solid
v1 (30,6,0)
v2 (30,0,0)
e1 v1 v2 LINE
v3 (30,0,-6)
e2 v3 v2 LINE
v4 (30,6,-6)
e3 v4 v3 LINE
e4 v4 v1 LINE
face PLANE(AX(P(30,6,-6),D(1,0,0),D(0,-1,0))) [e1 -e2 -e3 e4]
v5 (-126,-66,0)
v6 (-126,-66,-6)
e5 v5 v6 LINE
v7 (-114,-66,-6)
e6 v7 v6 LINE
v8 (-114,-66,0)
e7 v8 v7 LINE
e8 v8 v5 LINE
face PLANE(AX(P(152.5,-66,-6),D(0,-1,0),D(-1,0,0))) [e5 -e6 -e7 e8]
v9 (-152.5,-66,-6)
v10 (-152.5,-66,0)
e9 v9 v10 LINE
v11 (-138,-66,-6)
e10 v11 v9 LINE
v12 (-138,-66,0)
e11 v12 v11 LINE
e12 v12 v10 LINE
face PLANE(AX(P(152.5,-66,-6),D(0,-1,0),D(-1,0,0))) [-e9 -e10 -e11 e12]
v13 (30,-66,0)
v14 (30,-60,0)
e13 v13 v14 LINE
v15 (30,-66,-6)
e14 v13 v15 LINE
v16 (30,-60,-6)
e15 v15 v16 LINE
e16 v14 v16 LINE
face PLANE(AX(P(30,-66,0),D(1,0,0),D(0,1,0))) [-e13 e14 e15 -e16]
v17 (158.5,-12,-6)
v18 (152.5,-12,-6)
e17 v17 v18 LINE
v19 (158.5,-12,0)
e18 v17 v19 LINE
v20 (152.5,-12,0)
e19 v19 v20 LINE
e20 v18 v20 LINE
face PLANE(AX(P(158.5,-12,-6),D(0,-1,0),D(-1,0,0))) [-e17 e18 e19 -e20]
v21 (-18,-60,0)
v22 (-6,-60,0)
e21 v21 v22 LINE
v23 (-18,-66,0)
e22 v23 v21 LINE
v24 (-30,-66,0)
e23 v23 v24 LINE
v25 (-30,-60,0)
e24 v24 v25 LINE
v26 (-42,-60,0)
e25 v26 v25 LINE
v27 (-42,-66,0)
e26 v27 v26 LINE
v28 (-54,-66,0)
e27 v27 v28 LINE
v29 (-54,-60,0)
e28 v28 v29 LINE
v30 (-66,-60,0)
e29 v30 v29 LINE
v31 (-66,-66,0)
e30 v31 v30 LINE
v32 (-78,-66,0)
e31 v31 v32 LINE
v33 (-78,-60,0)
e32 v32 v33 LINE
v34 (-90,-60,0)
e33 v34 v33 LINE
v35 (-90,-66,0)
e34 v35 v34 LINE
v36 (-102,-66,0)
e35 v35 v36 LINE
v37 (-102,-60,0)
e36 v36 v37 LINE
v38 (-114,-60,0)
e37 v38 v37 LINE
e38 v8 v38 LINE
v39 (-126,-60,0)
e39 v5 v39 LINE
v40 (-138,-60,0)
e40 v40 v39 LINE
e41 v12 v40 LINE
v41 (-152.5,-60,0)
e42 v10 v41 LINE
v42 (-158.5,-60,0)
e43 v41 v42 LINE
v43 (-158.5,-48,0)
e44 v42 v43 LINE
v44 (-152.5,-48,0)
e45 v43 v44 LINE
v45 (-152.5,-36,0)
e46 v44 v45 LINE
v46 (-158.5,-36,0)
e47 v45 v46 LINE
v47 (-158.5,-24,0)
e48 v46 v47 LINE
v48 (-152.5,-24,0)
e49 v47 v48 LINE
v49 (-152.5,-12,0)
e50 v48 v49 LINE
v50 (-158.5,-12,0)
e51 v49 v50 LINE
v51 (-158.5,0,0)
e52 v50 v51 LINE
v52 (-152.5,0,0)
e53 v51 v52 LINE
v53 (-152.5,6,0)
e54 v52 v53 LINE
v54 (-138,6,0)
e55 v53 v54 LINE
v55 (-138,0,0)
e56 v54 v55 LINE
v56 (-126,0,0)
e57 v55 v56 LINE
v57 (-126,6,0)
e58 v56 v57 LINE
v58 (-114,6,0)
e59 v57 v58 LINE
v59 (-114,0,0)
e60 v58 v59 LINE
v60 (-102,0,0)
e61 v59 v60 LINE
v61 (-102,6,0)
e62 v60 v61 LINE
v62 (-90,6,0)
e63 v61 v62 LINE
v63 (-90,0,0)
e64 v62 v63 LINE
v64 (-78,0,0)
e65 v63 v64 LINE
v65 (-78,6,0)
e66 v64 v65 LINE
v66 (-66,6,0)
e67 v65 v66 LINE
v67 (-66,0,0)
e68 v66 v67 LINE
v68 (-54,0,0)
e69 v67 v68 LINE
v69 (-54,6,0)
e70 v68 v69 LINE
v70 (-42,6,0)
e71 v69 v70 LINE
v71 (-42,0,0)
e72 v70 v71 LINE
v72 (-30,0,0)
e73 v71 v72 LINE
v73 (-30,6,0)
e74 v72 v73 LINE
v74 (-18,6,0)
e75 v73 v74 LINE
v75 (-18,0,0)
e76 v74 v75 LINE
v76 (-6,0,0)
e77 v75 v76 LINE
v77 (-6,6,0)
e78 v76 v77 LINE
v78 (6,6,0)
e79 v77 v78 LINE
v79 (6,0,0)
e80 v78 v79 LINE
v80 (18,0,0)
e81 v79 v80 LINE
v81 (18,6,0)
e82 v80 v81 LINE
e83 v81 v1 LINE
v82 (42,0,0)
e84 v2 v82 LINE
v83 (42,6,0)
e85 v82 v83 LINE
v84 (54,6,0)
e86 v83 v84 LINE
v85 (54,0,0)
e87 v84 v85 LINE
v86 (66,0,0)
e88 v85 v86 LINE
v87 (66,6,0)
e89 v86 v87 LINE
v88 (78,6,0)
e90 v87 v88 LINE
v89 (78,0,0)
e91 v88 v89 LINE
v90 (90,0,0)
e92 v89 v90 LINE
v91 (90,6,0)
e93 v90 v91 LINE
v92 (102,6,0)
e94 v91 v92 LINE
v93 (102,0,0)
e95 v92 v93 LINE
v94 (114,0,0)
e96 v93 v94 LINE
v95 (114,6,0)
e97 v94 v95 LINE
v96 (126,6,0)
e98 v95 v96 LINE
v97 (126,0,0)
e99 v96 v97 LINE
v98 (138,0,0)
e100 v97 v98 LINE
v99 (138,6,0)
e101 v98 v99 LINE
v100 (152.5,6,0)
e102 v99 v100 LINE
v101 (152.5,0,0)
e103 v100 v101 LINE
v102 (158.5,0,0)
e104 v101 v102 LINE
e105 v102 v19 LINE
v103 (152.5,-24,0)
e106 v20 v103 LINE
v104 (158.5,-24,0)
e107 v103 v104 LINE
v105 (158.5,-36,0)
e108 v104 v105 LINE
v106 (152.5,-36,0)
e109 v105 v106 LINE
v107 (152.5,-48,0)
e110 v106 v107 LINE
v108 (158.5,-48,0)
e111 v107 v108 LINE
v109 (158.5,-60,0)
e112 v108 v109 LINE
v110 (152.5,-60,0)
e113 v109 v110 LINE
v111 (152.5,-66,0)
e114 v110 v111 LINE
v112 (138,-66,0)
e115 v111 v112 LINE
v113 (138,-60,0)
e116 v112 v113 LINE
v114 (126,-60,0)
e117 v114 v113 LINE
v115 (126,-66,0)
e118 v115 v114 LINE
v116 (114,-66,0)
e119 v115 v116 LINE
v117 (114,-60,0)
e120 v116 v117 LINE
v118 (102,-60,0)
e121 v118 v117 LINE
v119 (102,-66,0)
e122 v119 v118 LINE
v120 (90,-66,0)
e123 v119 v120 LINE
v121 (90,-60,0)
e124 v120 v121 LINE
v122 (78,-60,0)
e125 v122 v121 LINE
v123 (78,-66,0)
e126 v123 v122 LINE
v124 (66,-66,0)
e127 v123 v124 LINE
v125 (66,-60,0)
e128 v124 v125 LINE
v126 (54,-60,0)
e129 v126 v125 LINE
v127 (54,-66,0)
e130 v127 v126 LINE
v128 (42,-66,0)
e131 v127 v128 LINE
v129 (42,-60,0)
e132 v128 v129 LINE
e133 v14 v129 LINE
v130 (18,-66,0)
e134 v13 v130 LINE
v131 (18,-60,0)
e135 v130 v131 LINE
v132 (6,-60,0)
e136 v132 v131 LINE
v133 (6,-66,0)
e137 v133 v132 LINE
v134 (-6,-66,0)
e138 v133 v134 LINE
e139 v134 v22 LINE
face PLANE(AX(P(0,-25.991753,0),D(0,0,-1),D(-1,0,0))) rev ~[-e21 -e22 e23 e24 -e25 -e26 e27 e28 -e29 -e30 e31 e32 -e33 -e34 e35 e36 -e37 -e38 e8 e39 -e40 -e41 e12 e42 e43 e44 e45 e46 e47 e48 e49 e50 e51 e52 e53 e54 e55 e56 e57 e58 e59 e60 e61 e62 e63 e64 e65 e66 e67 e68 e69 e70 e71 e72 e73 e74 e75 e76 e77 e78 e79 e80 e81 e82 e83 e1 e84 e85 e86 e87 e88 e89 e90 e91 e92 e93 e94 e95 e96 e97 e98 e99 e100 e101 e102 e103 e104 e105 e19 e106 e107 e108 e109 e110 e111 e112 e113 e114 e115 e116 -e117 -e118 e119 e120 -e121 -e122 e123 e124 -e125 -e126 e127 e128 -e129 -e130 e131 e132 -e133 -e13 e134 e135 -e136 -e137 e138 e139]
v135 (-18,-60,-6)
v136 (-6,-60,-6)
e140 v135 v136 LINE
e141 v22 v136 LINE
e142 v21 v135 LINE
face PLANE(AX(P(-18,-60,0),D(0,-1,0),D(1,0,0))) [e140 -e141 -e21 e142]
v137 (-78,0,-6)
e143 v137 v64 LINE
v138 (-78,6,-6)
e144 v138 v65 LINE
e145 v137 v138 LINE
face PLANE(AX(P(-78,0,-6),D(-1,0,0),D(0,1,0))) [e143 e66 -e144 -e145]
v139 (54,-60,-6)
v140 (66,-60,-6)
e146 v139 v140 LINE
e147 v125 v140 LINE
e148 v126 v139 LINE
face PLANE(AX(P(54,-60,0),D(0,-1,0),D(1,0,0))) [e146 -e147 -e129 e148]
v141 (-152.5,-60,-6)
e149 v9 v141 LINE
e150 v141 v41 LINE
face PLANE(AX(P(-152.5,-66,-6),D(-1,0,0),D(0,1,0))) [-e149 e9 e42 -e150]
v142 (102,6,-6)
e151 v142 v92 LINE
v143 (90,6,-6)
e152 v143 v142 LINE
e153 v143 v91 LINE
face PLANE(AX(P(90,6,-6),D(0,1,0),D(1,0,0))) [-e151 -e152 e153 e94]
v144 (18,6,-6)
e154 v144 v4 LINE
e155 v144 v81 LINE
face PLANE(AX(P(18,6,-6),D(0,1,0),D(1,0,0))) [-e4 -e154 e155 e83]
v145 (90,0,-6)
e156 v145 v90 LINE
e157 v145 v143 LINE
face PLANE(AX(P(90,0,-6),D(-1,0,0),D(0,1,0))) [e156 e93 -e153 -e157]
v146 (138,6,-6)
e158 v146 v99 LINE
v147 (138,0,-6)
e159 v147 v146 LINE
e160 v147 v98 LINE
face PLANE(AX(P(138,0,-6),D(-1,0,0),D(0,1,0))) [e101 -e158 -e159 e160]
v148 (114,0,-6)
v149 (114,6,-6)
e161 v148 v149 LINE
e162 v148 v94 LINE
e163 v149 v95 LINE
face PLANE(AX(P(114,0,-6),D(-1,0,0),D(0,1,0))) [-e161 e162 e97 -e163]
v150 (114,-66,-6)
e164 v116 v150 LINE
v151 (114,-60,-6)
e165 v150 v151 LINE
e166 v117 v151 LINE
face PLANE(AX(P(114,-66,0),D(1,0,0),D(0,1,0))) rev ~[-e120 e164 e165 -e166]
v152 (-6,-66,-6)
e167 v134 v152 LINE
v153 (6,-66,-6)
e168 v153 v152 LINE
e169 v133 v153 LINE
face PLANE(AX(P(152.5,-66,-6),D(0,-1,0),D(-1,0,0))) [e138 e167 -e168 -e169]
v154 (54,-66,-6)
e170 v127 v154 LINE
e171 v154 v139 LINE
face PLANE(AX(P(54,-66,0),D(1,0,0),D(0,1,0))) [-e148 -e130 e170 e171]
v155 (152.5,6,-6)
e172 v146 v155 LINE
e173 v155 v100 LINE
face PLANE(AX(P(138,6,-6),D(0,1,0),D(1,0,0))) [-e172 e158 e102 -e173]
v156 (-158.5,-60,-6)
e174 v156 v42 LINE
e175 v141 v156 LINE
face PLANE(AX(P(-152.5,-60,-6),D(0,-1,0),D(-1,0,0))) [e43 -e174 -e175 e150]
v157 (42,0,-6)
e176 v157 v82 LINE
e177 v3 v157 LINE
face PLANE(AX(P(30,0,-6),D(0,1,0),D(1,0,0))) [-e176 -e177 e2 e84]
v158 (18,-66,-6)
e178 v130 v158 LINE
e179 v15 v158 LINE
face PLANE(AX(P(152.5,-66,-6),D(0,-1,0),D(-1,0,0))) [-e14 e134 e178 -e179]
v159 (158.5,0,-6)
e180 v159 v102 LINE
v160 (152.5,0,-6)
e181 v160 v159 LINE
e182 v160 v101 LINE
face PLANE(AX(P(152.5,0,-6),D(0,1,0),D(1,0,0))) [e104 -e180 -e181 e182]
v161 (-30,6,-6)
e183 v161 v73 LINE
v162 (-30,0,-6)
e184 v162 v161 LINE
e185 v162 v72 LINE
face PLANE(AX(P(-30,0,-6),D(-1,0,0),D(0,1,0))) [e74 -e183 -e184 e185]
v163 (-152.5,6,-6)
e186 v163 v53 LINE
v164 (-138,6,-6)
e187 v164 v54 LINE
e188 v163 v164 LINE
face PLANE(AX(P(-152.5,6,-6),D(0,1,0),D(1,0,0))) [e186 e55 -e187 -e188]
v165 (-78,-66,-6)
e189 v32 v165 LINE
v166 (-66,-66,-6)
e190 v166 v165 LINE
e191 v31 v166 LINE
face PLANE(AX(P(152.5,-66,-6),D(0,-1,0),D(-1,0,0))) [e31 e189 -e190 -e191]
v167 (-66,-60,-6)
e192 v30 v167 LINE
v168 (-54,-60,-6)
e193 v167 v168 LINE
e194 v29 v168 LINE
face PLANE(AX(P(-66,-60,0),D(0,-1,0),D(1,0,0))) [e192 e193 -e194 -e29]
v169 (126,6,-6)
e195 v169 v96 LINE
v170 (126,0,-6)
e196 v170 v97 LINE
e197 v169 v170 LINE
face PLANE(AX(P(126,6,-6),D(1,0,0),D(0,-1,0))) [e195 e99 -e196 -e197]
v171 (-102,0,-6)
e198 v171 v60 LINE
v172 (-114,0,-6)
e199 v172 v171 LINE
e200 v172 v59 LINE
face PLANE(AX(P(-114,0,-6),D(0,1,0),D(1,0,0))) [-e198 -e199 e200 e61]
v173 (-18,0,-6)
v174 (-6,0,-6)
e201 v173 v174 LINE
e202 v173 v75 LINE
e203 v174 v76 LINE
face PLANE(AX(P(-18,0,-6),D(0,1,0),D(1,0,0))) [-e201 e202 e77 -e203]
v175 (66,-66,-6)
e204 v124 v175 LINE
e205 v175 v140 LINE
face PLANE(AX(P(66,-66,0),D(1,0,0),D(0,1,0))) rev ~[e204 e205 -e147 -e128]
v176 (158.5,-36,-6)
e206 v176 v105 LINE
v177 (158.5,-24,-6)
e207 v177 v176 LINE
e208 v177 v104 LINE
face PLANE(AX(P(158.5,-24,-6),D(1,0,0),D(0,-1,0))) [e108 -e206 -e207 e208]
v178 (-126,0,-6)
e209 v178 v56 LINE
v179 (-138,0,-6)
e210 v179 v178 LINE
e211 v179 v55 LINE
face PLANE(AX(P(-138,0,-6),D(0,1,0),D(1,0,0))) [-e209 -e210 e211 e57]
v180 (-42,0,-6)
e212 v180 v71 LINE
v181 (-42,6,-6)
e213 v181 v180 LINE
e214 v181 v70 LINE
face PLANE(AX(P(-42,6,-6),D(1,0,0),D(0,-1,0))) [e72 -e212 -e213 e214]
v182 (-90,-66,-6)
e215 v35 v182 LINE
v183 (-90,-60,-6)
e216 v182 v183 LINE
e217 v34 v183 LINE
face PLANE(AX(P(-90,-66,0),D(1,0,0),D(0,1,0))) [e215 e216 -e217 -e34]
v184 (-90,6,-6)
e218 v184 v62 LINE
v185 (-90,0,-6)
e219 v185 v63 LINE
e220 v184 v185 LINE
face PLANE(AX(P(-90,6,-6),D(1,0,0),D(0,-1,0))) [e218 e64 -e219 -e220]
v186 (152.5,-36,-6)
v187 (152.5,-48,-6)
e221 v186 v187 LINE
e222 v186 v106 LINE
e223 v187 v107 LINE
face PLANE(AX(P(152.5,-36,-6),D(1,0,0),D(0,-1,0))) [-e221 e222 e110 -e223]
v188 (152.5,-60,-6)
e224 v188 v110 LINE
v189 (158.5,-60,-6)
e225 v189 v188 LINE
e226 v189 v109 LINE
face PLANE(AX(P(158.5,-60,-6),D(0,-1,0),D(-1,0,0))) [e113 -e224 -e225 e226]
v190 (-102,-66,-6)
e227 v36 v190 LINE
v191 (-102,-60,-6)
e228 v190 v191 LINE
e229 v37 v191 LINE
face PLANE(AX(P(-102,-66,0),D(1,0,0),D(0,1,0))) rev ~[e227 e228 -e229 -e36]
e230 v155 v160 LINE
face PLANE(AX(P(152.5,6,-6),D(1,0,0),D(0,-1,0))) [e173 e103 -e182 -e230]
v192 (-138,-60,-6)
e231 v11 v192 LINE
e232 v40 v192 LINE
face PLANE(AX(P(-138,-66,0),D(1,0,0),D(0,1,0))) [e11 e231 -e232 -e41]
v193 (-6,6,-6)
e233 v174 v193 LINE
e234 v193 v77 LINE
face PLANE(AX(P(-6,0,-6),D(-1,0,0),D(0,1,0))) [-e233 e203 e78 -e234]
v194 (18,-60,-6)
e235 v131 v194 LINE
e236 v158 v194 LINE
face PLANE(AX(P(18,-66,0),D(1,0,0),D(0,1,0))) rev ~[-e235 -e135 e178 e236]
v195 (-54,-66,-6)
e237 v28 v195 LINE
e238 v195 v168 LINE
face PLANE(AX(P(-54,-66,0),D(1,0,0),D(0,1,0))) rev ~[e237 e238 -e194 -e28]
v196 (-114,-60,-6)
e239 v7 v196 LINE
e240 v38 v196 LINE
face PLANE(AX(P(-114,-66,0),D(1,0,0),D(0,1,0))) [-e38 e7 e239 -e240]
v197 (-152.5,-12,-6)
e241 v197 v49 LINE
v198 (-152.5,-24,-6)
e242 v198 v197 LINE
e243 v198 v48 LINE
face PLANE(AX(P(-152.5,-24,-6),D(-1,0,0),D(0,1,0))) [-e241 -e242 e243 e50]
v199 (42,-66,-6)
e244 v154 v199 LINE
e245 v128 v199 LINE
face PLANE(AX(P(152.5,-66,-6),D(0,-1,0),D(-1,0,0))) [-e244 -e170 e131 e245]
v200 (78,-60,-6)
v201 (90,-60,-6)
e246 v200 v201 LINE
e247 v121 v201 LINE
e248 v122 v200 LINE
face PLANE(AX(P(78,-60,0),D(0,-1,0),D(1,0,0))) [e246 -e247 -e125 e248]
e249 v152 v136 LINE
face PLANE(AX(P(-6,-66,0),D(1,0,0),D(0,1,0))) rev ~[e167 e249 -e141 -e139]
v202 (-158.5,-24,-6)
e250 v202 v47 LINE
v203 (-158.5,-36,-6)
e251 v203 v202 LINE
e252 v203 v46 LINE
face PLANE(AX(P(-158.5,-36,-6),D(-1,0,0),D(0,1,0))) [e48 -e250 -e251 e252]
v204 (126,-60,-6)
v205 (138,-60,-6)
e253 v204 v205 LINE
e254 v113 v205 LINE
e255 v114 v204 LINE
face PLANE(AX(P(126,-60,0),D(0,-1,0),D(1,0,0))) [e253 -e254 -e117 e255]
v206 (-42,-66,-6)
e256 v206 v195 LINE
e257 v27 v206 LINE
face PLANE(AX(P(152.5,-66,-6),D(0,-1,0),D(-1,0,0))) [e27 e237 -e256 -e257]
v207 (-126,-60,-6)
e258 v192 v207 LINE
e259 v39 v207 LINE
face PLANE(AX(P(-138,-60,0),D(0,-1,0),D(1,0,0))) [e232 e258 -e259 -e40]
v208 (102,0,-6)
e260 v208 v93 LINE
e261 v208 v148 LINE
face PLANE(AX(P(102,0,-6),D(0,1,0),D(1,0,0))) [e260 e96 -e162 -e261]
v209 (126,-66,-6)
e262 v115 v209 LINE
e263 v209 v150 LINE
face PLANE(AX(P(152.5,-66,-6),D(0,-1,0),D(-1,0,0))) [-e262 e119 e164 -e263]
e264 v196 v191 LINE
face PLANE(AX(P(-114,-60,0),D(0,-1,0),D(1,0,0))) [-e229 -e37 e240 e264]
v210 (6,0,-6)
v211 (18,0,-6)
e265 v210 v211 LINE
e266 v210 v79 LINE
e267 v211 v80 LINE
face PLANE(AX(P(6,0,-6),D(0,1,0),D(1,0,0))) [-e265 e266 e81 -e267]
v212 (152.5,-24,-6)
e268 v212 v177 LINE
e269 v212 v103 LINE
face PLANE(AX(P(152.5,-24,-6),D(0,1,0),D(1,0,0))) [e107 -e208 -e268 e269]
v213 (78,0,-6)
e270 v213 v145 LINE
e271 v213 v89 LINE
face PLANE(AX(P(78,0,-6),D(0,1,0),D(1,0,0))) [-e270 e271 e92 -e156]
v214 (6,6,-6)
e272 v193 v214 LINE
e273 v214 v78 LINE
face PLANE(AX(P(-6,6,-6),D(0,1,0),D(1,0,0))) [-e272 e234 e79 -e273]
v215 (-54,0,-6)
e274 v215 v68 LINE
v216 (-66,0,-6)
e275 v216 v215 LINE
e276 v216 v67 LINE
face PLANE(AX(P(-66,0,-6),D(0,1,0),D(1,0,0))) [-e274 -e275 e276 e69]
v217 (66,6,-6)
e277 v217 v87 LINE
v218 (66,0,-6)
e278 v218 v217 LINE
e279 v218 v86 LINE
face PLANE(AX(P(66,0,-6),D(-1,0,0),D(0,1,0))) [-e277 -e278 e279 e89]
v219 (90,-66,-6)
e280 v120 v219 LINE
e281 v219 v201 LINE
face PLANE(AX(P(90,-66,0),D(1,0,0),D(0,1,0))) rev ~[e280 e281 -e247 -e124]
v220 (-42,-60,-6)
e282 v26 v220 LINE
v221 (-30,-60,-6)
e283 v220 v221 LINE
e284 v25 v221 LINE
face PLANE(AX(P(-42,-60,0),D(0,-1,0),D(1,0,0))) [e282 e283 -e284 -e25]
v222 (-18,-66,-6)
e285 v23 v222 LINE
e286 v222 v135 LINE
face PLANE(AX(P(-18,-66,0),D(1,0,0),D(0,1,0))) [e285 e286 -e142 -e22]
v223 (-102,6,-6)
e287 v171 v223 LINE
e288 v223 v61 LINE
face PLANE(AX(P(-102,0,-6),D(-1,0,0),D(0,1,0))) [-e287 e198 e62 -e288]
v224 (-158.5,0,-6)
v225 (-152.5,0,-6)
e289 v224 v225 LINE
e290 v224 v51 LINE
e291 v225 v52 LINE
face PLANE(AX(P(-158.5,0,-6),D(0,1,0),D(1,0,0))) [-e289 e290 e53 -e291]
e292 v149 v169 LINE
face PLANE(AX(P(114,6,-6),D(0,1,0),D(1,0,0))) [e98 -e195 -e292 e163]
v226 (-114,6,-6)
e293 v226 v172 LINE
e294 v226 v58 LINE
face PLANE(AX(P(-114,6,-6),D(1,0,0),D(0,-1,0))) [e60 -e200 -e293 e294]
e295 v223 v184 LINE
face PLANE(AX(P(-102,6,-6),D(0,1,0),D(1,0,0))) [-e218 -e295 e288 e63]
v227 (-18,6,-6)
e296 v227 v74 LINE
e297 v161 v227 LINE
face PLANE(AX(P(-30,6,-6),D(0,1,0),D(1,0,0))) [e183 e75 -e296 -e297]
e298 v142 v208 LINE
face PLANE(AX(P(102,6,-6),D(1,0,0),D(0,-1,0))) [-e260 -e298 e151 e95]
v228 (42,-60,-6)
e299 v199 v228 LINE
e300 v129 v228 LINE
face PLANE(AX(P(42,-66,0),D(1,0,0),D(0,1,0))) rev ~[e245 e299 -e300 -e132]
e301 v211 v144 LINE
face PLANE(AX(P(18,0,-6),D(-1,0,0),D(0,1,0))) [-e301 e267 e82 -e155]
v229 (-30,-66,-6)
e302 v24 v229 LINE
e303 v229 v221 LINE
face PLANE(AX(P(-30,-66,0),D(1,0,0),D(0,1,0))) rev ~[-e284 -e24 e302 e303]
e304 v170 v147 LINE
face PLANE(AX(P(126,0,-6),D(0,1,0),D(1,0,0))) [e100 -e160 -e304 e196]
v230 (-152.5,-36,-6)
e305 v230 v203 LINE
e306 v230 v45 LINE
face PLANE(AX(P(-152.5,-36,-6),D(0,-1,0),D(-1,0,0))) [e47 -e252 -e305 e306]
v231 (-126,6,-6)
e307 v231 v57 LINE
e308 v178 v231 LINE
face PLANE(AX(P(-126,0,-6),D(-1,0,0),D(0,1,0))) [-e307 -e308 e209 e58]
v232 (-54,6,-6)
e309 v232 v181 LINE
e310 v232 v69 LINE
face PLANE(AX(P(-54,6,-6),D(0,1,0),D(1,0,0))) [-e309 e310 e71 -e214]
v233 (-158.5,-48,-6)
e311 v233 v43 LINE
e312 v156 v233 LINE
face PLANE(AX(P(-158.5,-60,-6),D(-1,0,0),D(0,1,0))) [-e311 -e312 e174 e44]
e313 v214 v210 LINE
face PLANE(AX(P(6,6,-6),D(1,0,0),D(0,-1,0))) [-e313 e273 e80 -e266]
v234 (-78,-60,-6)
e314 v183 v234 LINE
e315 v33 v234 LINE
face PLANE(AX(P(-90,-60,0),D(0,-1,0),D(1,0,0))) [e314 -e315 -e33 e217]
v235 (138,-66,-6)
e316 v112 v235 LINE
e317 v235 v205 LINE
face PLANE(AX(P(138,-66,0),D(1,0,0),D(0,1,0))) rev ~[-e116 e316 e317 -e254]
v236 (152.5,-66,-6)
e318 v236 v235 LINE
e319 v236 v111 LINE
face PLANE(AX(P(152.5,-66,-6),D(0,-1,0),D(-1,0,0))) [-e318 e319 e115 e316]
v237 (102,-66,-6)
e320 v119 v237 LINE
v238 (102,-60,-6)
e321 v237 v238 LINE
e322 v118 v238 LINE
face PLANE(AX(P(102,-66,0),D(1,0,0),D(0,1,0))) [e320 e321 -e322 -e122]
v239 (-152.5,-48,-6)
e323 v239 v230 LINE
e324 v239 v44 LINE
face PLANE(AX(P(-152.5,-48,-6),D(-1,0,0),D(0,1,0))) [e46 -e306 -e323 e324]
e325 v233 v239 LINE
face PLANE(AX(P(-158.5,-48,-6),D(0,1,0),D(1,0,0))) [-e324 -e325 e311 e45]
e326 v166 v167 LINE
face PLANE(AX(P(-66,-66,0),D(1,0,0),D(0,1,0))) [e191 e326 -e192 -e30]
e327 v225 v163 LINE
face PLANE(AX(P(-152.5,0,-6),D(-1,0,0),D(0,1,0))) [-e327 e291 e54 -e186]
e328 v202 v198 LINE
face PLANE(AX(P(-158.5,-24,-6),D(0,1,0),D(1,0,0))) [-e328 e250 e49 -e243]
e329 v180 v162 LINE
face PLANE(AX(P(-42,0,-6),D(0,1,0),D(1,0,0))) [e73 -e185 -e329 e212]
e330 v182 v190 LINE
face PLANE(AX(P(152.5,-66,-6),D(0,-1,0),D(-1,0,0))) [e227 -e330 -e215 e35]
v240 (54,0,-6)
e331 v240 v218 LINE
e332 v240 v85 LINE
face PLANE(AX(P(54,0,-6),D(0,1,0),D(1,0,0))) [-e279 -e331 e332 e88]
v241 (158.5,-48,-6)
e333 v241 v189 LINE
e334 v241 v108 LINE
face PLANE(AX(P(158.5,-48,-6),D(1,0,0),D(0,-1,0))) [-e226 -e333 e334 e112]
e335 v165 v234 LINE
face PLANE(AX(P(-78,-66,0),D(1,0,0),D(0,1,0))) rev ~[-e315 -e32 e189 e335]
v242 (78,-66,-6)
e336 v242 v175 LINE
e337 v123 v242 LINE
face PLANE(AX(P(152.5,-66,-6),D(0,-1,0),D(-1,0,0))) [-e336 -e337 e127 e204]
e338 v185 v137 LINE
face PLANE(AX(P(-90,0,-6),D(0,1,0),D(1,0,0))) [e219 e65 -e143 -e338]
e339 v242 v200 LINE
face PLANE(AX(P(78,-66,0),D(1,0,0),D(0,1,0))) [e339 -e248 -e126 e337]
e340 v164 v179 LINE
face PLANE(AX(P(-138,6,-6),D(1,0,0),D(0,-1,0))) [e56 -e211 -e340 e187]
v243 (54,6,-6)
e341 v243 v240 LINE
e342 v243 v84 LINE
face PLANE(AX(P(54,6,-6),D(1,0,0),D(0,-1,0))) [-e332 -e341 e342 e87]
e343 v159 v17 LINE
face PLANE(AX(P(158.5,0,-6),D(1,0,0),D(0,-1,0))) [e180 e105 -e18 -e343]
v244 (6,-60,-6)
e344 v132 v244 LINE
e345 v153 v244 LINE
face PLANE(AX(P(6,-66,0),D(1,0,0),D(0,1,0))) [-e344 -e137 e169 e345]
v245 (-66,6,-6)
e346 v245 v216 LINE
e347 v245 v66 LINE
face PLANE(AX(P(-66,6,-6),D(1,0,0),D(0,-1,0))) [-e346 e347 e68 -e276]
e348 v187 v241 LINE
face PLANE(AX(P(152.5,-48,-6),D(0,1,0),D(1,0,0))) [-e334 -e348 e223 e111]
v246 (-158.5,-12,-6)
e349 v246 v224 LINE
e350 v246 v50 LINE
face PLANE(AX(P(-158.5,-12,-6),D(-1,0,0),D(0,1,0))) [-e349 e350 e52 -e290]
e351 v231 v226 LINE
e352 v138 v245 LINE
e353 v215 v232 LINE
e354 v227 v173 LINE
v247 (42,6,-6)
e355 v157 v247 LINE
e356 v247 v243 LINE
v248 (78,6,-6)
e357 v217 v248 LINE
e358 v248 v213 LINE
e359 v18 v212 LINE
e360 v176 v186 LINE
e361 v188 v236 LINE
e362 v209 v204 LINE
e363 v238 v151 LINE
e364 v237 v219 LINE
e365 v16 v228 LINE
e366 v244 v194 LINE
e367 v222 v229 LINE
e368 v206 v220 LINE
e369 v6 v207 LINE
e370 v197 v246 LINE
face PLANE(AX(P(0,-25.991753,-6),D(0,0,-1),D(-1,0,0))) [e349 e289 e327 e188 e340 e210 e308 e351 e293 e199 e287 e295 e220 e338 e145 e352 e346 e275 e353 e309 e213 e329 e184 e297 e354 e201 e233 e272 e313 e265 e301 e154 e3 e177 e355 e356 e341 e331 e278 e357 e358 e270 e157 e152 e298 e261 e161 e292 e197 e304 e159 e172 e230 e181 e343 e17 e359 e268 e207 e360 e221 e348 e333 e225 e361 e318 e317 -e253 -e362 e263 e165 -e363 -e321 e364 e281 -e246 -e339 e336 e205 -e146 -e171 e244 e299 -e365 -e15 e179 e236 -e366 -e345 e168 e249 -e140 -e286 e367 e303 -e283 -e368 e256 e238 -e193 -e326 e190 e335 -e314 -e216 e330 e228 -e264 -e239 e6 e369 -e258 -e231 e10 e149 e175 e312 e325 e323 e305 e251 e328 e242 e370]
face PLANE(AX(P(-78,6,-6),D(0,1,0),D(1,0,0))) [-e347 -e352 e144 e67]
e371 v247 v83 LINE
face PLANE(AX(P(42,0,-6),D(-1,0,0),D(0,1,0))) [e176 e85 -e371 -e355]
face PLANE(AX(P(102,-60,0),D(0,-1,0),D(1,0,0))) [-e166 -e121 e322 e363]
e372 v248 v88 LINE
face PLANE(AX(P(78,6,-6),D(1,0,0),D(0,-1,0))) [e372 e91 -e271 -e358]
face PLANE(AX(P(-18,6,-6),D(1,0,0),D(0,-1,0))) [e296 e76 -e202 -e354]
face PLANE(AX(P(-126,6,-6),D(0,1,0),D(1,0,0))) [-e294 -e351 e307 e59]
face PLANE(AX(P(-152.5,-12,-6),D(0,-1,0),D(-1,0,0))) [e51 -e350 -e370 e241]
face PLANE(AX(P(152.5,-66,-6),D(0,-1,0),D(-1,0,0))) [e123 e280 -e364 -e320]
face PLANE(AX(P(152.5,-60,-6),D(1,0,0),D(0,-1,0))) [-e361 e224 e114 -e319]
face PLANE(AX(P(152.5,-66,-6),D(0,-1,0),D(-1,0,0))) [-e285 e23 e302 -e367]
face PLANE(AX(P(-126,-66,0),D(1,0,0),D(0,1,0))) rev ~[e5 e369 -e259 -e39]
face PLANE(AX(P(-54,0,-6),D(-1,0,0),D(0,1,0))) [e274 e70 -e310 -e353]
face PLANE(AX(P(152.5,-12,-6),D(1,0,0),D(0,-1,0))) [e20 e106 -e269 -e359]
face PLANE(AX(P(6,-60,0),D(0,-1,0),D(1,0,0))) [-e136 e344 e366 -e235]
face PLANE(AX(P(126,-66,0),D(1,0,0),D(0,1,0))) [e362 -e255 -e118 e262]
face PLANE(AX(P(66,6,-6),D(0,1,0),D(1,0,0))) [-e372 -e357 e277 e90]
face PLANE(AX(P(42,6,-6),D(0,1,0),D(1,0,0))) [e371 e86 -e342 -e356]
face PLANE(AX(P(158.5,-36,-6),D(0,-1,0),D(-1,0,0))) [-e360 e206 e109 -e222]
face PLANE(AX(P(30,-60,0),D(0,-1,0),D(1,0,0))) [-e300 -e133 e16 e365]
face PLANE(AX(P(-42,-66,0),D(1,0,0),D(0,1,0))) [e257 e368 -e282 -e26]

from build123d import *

# Parameters (mm, degrees)
BOSS_EXTRUDE1_DEPTH = 6
SKETCH3_W           = 12
SKETCH3_H           = 6
CUT_EXTRUDE1_DEPTH  = 6


with BuildPart() as part:
    # Sketch2 → Boss-Extrude1 (new body)
    with BuildSketch(Plane.XY.offset(-6)):
        Polygon((-152.5, 6), (-138, 6), (-138, 0), (-126, 0), (-126, 6), (-114, 6), (-114, 0), (-102, 0), (-102, 6), (-90, 6), (-90, 0), (-78, 0), (-78, 6), (-66, 6), (-66, 0), (-54, 0), (-54, 6), (-42, 6), (-42, 0), (-30, 0), (-30, 6), (-18, 6), (-18, 0), (-6, 0), (-6, 6), (6, 6), (6, 0), (18, 0), (18, 6), (30, 6), (30, 0), (42, 0), (42, 6), (54, 6), (54, 0), (66, 0), (66, 6), (78, 6), (78, 0), (90, 0), (90, 6), (102, 6), (102, 0), (114, 0), (114, 6), (126, 6), (126, 0), (138, 0), (138, 6), (152.5, 6), (152.5, 0), (158.5, 0), (158.5, -12), (152.5, -12), (152.5, -24), (158.5, -24), (158.5, -36), (152.5, -36), (152.5, -48), (158.5, -48), (158.5, -60), (152.5, -60), (152.5, -66), (-152.5, -66), (-152.5, -60), (-158.5, -60), (-158.5, -48), (-152.5, -48), (-152.5, -36), (-158.5, -36), (-158.5, -24), (-152.5, -24), (-152.5, -12), (-158.5, -12), (-158.5, 0), (-152.5, 0), align=None)
    extrude(amount=BOSS_EXTRUDE1_DEPTH)

    # Sketch3 → Cut-Extrude1 (cut)
    with BuildSketch(Plane.XY):
        with Locations((-132, -63)):
            Rectangle(SKETCH3_W, SKETCH3_H)
        with Locations((-108, -63)):
            Rectangle(SKETCH3_W, SKETCH3_H)
        with Locations((-84, -63)):
            Rectangle(SKETCH3_W, SKETCH3_H)
        with Locations((-60, -63)):
            Rectangle(SKETCH3_W, SKETCH3_H)
        with Locations((-36, -63)):
            Rectangle(SKETCH3_W, SKETCH3_H)
        with Locations((-12, -63)):
            Rectangle(SKETCH3_W, SKETCH3_H)
        with Locations((12, -63)):
            Rectangle(SKETCH3_W, SKETCH3_H)
        with Locations((36, -63)):
            Rectangle(SKETCH3_W, SKETCH3_H)
        with Locations((60, -63)):
            Rectangle(SKETCH3_W, SKETCH3_H)
        with Locations((84, -63)):
            Rectangle(SKETCH3_W, SKETCH3_H)
        with Locations((108, -63)):
            Rectangle(SKETCH3_W, SKETCH3_H)
        with Locations((132, -63)):
            Rectangle(SKETCH3_W, SKETCH3_H)
    extrude(amount=-CUT_EXTRUDE1_DEPTH, mode=Mode.SUBTRACT)


solid = part.part
